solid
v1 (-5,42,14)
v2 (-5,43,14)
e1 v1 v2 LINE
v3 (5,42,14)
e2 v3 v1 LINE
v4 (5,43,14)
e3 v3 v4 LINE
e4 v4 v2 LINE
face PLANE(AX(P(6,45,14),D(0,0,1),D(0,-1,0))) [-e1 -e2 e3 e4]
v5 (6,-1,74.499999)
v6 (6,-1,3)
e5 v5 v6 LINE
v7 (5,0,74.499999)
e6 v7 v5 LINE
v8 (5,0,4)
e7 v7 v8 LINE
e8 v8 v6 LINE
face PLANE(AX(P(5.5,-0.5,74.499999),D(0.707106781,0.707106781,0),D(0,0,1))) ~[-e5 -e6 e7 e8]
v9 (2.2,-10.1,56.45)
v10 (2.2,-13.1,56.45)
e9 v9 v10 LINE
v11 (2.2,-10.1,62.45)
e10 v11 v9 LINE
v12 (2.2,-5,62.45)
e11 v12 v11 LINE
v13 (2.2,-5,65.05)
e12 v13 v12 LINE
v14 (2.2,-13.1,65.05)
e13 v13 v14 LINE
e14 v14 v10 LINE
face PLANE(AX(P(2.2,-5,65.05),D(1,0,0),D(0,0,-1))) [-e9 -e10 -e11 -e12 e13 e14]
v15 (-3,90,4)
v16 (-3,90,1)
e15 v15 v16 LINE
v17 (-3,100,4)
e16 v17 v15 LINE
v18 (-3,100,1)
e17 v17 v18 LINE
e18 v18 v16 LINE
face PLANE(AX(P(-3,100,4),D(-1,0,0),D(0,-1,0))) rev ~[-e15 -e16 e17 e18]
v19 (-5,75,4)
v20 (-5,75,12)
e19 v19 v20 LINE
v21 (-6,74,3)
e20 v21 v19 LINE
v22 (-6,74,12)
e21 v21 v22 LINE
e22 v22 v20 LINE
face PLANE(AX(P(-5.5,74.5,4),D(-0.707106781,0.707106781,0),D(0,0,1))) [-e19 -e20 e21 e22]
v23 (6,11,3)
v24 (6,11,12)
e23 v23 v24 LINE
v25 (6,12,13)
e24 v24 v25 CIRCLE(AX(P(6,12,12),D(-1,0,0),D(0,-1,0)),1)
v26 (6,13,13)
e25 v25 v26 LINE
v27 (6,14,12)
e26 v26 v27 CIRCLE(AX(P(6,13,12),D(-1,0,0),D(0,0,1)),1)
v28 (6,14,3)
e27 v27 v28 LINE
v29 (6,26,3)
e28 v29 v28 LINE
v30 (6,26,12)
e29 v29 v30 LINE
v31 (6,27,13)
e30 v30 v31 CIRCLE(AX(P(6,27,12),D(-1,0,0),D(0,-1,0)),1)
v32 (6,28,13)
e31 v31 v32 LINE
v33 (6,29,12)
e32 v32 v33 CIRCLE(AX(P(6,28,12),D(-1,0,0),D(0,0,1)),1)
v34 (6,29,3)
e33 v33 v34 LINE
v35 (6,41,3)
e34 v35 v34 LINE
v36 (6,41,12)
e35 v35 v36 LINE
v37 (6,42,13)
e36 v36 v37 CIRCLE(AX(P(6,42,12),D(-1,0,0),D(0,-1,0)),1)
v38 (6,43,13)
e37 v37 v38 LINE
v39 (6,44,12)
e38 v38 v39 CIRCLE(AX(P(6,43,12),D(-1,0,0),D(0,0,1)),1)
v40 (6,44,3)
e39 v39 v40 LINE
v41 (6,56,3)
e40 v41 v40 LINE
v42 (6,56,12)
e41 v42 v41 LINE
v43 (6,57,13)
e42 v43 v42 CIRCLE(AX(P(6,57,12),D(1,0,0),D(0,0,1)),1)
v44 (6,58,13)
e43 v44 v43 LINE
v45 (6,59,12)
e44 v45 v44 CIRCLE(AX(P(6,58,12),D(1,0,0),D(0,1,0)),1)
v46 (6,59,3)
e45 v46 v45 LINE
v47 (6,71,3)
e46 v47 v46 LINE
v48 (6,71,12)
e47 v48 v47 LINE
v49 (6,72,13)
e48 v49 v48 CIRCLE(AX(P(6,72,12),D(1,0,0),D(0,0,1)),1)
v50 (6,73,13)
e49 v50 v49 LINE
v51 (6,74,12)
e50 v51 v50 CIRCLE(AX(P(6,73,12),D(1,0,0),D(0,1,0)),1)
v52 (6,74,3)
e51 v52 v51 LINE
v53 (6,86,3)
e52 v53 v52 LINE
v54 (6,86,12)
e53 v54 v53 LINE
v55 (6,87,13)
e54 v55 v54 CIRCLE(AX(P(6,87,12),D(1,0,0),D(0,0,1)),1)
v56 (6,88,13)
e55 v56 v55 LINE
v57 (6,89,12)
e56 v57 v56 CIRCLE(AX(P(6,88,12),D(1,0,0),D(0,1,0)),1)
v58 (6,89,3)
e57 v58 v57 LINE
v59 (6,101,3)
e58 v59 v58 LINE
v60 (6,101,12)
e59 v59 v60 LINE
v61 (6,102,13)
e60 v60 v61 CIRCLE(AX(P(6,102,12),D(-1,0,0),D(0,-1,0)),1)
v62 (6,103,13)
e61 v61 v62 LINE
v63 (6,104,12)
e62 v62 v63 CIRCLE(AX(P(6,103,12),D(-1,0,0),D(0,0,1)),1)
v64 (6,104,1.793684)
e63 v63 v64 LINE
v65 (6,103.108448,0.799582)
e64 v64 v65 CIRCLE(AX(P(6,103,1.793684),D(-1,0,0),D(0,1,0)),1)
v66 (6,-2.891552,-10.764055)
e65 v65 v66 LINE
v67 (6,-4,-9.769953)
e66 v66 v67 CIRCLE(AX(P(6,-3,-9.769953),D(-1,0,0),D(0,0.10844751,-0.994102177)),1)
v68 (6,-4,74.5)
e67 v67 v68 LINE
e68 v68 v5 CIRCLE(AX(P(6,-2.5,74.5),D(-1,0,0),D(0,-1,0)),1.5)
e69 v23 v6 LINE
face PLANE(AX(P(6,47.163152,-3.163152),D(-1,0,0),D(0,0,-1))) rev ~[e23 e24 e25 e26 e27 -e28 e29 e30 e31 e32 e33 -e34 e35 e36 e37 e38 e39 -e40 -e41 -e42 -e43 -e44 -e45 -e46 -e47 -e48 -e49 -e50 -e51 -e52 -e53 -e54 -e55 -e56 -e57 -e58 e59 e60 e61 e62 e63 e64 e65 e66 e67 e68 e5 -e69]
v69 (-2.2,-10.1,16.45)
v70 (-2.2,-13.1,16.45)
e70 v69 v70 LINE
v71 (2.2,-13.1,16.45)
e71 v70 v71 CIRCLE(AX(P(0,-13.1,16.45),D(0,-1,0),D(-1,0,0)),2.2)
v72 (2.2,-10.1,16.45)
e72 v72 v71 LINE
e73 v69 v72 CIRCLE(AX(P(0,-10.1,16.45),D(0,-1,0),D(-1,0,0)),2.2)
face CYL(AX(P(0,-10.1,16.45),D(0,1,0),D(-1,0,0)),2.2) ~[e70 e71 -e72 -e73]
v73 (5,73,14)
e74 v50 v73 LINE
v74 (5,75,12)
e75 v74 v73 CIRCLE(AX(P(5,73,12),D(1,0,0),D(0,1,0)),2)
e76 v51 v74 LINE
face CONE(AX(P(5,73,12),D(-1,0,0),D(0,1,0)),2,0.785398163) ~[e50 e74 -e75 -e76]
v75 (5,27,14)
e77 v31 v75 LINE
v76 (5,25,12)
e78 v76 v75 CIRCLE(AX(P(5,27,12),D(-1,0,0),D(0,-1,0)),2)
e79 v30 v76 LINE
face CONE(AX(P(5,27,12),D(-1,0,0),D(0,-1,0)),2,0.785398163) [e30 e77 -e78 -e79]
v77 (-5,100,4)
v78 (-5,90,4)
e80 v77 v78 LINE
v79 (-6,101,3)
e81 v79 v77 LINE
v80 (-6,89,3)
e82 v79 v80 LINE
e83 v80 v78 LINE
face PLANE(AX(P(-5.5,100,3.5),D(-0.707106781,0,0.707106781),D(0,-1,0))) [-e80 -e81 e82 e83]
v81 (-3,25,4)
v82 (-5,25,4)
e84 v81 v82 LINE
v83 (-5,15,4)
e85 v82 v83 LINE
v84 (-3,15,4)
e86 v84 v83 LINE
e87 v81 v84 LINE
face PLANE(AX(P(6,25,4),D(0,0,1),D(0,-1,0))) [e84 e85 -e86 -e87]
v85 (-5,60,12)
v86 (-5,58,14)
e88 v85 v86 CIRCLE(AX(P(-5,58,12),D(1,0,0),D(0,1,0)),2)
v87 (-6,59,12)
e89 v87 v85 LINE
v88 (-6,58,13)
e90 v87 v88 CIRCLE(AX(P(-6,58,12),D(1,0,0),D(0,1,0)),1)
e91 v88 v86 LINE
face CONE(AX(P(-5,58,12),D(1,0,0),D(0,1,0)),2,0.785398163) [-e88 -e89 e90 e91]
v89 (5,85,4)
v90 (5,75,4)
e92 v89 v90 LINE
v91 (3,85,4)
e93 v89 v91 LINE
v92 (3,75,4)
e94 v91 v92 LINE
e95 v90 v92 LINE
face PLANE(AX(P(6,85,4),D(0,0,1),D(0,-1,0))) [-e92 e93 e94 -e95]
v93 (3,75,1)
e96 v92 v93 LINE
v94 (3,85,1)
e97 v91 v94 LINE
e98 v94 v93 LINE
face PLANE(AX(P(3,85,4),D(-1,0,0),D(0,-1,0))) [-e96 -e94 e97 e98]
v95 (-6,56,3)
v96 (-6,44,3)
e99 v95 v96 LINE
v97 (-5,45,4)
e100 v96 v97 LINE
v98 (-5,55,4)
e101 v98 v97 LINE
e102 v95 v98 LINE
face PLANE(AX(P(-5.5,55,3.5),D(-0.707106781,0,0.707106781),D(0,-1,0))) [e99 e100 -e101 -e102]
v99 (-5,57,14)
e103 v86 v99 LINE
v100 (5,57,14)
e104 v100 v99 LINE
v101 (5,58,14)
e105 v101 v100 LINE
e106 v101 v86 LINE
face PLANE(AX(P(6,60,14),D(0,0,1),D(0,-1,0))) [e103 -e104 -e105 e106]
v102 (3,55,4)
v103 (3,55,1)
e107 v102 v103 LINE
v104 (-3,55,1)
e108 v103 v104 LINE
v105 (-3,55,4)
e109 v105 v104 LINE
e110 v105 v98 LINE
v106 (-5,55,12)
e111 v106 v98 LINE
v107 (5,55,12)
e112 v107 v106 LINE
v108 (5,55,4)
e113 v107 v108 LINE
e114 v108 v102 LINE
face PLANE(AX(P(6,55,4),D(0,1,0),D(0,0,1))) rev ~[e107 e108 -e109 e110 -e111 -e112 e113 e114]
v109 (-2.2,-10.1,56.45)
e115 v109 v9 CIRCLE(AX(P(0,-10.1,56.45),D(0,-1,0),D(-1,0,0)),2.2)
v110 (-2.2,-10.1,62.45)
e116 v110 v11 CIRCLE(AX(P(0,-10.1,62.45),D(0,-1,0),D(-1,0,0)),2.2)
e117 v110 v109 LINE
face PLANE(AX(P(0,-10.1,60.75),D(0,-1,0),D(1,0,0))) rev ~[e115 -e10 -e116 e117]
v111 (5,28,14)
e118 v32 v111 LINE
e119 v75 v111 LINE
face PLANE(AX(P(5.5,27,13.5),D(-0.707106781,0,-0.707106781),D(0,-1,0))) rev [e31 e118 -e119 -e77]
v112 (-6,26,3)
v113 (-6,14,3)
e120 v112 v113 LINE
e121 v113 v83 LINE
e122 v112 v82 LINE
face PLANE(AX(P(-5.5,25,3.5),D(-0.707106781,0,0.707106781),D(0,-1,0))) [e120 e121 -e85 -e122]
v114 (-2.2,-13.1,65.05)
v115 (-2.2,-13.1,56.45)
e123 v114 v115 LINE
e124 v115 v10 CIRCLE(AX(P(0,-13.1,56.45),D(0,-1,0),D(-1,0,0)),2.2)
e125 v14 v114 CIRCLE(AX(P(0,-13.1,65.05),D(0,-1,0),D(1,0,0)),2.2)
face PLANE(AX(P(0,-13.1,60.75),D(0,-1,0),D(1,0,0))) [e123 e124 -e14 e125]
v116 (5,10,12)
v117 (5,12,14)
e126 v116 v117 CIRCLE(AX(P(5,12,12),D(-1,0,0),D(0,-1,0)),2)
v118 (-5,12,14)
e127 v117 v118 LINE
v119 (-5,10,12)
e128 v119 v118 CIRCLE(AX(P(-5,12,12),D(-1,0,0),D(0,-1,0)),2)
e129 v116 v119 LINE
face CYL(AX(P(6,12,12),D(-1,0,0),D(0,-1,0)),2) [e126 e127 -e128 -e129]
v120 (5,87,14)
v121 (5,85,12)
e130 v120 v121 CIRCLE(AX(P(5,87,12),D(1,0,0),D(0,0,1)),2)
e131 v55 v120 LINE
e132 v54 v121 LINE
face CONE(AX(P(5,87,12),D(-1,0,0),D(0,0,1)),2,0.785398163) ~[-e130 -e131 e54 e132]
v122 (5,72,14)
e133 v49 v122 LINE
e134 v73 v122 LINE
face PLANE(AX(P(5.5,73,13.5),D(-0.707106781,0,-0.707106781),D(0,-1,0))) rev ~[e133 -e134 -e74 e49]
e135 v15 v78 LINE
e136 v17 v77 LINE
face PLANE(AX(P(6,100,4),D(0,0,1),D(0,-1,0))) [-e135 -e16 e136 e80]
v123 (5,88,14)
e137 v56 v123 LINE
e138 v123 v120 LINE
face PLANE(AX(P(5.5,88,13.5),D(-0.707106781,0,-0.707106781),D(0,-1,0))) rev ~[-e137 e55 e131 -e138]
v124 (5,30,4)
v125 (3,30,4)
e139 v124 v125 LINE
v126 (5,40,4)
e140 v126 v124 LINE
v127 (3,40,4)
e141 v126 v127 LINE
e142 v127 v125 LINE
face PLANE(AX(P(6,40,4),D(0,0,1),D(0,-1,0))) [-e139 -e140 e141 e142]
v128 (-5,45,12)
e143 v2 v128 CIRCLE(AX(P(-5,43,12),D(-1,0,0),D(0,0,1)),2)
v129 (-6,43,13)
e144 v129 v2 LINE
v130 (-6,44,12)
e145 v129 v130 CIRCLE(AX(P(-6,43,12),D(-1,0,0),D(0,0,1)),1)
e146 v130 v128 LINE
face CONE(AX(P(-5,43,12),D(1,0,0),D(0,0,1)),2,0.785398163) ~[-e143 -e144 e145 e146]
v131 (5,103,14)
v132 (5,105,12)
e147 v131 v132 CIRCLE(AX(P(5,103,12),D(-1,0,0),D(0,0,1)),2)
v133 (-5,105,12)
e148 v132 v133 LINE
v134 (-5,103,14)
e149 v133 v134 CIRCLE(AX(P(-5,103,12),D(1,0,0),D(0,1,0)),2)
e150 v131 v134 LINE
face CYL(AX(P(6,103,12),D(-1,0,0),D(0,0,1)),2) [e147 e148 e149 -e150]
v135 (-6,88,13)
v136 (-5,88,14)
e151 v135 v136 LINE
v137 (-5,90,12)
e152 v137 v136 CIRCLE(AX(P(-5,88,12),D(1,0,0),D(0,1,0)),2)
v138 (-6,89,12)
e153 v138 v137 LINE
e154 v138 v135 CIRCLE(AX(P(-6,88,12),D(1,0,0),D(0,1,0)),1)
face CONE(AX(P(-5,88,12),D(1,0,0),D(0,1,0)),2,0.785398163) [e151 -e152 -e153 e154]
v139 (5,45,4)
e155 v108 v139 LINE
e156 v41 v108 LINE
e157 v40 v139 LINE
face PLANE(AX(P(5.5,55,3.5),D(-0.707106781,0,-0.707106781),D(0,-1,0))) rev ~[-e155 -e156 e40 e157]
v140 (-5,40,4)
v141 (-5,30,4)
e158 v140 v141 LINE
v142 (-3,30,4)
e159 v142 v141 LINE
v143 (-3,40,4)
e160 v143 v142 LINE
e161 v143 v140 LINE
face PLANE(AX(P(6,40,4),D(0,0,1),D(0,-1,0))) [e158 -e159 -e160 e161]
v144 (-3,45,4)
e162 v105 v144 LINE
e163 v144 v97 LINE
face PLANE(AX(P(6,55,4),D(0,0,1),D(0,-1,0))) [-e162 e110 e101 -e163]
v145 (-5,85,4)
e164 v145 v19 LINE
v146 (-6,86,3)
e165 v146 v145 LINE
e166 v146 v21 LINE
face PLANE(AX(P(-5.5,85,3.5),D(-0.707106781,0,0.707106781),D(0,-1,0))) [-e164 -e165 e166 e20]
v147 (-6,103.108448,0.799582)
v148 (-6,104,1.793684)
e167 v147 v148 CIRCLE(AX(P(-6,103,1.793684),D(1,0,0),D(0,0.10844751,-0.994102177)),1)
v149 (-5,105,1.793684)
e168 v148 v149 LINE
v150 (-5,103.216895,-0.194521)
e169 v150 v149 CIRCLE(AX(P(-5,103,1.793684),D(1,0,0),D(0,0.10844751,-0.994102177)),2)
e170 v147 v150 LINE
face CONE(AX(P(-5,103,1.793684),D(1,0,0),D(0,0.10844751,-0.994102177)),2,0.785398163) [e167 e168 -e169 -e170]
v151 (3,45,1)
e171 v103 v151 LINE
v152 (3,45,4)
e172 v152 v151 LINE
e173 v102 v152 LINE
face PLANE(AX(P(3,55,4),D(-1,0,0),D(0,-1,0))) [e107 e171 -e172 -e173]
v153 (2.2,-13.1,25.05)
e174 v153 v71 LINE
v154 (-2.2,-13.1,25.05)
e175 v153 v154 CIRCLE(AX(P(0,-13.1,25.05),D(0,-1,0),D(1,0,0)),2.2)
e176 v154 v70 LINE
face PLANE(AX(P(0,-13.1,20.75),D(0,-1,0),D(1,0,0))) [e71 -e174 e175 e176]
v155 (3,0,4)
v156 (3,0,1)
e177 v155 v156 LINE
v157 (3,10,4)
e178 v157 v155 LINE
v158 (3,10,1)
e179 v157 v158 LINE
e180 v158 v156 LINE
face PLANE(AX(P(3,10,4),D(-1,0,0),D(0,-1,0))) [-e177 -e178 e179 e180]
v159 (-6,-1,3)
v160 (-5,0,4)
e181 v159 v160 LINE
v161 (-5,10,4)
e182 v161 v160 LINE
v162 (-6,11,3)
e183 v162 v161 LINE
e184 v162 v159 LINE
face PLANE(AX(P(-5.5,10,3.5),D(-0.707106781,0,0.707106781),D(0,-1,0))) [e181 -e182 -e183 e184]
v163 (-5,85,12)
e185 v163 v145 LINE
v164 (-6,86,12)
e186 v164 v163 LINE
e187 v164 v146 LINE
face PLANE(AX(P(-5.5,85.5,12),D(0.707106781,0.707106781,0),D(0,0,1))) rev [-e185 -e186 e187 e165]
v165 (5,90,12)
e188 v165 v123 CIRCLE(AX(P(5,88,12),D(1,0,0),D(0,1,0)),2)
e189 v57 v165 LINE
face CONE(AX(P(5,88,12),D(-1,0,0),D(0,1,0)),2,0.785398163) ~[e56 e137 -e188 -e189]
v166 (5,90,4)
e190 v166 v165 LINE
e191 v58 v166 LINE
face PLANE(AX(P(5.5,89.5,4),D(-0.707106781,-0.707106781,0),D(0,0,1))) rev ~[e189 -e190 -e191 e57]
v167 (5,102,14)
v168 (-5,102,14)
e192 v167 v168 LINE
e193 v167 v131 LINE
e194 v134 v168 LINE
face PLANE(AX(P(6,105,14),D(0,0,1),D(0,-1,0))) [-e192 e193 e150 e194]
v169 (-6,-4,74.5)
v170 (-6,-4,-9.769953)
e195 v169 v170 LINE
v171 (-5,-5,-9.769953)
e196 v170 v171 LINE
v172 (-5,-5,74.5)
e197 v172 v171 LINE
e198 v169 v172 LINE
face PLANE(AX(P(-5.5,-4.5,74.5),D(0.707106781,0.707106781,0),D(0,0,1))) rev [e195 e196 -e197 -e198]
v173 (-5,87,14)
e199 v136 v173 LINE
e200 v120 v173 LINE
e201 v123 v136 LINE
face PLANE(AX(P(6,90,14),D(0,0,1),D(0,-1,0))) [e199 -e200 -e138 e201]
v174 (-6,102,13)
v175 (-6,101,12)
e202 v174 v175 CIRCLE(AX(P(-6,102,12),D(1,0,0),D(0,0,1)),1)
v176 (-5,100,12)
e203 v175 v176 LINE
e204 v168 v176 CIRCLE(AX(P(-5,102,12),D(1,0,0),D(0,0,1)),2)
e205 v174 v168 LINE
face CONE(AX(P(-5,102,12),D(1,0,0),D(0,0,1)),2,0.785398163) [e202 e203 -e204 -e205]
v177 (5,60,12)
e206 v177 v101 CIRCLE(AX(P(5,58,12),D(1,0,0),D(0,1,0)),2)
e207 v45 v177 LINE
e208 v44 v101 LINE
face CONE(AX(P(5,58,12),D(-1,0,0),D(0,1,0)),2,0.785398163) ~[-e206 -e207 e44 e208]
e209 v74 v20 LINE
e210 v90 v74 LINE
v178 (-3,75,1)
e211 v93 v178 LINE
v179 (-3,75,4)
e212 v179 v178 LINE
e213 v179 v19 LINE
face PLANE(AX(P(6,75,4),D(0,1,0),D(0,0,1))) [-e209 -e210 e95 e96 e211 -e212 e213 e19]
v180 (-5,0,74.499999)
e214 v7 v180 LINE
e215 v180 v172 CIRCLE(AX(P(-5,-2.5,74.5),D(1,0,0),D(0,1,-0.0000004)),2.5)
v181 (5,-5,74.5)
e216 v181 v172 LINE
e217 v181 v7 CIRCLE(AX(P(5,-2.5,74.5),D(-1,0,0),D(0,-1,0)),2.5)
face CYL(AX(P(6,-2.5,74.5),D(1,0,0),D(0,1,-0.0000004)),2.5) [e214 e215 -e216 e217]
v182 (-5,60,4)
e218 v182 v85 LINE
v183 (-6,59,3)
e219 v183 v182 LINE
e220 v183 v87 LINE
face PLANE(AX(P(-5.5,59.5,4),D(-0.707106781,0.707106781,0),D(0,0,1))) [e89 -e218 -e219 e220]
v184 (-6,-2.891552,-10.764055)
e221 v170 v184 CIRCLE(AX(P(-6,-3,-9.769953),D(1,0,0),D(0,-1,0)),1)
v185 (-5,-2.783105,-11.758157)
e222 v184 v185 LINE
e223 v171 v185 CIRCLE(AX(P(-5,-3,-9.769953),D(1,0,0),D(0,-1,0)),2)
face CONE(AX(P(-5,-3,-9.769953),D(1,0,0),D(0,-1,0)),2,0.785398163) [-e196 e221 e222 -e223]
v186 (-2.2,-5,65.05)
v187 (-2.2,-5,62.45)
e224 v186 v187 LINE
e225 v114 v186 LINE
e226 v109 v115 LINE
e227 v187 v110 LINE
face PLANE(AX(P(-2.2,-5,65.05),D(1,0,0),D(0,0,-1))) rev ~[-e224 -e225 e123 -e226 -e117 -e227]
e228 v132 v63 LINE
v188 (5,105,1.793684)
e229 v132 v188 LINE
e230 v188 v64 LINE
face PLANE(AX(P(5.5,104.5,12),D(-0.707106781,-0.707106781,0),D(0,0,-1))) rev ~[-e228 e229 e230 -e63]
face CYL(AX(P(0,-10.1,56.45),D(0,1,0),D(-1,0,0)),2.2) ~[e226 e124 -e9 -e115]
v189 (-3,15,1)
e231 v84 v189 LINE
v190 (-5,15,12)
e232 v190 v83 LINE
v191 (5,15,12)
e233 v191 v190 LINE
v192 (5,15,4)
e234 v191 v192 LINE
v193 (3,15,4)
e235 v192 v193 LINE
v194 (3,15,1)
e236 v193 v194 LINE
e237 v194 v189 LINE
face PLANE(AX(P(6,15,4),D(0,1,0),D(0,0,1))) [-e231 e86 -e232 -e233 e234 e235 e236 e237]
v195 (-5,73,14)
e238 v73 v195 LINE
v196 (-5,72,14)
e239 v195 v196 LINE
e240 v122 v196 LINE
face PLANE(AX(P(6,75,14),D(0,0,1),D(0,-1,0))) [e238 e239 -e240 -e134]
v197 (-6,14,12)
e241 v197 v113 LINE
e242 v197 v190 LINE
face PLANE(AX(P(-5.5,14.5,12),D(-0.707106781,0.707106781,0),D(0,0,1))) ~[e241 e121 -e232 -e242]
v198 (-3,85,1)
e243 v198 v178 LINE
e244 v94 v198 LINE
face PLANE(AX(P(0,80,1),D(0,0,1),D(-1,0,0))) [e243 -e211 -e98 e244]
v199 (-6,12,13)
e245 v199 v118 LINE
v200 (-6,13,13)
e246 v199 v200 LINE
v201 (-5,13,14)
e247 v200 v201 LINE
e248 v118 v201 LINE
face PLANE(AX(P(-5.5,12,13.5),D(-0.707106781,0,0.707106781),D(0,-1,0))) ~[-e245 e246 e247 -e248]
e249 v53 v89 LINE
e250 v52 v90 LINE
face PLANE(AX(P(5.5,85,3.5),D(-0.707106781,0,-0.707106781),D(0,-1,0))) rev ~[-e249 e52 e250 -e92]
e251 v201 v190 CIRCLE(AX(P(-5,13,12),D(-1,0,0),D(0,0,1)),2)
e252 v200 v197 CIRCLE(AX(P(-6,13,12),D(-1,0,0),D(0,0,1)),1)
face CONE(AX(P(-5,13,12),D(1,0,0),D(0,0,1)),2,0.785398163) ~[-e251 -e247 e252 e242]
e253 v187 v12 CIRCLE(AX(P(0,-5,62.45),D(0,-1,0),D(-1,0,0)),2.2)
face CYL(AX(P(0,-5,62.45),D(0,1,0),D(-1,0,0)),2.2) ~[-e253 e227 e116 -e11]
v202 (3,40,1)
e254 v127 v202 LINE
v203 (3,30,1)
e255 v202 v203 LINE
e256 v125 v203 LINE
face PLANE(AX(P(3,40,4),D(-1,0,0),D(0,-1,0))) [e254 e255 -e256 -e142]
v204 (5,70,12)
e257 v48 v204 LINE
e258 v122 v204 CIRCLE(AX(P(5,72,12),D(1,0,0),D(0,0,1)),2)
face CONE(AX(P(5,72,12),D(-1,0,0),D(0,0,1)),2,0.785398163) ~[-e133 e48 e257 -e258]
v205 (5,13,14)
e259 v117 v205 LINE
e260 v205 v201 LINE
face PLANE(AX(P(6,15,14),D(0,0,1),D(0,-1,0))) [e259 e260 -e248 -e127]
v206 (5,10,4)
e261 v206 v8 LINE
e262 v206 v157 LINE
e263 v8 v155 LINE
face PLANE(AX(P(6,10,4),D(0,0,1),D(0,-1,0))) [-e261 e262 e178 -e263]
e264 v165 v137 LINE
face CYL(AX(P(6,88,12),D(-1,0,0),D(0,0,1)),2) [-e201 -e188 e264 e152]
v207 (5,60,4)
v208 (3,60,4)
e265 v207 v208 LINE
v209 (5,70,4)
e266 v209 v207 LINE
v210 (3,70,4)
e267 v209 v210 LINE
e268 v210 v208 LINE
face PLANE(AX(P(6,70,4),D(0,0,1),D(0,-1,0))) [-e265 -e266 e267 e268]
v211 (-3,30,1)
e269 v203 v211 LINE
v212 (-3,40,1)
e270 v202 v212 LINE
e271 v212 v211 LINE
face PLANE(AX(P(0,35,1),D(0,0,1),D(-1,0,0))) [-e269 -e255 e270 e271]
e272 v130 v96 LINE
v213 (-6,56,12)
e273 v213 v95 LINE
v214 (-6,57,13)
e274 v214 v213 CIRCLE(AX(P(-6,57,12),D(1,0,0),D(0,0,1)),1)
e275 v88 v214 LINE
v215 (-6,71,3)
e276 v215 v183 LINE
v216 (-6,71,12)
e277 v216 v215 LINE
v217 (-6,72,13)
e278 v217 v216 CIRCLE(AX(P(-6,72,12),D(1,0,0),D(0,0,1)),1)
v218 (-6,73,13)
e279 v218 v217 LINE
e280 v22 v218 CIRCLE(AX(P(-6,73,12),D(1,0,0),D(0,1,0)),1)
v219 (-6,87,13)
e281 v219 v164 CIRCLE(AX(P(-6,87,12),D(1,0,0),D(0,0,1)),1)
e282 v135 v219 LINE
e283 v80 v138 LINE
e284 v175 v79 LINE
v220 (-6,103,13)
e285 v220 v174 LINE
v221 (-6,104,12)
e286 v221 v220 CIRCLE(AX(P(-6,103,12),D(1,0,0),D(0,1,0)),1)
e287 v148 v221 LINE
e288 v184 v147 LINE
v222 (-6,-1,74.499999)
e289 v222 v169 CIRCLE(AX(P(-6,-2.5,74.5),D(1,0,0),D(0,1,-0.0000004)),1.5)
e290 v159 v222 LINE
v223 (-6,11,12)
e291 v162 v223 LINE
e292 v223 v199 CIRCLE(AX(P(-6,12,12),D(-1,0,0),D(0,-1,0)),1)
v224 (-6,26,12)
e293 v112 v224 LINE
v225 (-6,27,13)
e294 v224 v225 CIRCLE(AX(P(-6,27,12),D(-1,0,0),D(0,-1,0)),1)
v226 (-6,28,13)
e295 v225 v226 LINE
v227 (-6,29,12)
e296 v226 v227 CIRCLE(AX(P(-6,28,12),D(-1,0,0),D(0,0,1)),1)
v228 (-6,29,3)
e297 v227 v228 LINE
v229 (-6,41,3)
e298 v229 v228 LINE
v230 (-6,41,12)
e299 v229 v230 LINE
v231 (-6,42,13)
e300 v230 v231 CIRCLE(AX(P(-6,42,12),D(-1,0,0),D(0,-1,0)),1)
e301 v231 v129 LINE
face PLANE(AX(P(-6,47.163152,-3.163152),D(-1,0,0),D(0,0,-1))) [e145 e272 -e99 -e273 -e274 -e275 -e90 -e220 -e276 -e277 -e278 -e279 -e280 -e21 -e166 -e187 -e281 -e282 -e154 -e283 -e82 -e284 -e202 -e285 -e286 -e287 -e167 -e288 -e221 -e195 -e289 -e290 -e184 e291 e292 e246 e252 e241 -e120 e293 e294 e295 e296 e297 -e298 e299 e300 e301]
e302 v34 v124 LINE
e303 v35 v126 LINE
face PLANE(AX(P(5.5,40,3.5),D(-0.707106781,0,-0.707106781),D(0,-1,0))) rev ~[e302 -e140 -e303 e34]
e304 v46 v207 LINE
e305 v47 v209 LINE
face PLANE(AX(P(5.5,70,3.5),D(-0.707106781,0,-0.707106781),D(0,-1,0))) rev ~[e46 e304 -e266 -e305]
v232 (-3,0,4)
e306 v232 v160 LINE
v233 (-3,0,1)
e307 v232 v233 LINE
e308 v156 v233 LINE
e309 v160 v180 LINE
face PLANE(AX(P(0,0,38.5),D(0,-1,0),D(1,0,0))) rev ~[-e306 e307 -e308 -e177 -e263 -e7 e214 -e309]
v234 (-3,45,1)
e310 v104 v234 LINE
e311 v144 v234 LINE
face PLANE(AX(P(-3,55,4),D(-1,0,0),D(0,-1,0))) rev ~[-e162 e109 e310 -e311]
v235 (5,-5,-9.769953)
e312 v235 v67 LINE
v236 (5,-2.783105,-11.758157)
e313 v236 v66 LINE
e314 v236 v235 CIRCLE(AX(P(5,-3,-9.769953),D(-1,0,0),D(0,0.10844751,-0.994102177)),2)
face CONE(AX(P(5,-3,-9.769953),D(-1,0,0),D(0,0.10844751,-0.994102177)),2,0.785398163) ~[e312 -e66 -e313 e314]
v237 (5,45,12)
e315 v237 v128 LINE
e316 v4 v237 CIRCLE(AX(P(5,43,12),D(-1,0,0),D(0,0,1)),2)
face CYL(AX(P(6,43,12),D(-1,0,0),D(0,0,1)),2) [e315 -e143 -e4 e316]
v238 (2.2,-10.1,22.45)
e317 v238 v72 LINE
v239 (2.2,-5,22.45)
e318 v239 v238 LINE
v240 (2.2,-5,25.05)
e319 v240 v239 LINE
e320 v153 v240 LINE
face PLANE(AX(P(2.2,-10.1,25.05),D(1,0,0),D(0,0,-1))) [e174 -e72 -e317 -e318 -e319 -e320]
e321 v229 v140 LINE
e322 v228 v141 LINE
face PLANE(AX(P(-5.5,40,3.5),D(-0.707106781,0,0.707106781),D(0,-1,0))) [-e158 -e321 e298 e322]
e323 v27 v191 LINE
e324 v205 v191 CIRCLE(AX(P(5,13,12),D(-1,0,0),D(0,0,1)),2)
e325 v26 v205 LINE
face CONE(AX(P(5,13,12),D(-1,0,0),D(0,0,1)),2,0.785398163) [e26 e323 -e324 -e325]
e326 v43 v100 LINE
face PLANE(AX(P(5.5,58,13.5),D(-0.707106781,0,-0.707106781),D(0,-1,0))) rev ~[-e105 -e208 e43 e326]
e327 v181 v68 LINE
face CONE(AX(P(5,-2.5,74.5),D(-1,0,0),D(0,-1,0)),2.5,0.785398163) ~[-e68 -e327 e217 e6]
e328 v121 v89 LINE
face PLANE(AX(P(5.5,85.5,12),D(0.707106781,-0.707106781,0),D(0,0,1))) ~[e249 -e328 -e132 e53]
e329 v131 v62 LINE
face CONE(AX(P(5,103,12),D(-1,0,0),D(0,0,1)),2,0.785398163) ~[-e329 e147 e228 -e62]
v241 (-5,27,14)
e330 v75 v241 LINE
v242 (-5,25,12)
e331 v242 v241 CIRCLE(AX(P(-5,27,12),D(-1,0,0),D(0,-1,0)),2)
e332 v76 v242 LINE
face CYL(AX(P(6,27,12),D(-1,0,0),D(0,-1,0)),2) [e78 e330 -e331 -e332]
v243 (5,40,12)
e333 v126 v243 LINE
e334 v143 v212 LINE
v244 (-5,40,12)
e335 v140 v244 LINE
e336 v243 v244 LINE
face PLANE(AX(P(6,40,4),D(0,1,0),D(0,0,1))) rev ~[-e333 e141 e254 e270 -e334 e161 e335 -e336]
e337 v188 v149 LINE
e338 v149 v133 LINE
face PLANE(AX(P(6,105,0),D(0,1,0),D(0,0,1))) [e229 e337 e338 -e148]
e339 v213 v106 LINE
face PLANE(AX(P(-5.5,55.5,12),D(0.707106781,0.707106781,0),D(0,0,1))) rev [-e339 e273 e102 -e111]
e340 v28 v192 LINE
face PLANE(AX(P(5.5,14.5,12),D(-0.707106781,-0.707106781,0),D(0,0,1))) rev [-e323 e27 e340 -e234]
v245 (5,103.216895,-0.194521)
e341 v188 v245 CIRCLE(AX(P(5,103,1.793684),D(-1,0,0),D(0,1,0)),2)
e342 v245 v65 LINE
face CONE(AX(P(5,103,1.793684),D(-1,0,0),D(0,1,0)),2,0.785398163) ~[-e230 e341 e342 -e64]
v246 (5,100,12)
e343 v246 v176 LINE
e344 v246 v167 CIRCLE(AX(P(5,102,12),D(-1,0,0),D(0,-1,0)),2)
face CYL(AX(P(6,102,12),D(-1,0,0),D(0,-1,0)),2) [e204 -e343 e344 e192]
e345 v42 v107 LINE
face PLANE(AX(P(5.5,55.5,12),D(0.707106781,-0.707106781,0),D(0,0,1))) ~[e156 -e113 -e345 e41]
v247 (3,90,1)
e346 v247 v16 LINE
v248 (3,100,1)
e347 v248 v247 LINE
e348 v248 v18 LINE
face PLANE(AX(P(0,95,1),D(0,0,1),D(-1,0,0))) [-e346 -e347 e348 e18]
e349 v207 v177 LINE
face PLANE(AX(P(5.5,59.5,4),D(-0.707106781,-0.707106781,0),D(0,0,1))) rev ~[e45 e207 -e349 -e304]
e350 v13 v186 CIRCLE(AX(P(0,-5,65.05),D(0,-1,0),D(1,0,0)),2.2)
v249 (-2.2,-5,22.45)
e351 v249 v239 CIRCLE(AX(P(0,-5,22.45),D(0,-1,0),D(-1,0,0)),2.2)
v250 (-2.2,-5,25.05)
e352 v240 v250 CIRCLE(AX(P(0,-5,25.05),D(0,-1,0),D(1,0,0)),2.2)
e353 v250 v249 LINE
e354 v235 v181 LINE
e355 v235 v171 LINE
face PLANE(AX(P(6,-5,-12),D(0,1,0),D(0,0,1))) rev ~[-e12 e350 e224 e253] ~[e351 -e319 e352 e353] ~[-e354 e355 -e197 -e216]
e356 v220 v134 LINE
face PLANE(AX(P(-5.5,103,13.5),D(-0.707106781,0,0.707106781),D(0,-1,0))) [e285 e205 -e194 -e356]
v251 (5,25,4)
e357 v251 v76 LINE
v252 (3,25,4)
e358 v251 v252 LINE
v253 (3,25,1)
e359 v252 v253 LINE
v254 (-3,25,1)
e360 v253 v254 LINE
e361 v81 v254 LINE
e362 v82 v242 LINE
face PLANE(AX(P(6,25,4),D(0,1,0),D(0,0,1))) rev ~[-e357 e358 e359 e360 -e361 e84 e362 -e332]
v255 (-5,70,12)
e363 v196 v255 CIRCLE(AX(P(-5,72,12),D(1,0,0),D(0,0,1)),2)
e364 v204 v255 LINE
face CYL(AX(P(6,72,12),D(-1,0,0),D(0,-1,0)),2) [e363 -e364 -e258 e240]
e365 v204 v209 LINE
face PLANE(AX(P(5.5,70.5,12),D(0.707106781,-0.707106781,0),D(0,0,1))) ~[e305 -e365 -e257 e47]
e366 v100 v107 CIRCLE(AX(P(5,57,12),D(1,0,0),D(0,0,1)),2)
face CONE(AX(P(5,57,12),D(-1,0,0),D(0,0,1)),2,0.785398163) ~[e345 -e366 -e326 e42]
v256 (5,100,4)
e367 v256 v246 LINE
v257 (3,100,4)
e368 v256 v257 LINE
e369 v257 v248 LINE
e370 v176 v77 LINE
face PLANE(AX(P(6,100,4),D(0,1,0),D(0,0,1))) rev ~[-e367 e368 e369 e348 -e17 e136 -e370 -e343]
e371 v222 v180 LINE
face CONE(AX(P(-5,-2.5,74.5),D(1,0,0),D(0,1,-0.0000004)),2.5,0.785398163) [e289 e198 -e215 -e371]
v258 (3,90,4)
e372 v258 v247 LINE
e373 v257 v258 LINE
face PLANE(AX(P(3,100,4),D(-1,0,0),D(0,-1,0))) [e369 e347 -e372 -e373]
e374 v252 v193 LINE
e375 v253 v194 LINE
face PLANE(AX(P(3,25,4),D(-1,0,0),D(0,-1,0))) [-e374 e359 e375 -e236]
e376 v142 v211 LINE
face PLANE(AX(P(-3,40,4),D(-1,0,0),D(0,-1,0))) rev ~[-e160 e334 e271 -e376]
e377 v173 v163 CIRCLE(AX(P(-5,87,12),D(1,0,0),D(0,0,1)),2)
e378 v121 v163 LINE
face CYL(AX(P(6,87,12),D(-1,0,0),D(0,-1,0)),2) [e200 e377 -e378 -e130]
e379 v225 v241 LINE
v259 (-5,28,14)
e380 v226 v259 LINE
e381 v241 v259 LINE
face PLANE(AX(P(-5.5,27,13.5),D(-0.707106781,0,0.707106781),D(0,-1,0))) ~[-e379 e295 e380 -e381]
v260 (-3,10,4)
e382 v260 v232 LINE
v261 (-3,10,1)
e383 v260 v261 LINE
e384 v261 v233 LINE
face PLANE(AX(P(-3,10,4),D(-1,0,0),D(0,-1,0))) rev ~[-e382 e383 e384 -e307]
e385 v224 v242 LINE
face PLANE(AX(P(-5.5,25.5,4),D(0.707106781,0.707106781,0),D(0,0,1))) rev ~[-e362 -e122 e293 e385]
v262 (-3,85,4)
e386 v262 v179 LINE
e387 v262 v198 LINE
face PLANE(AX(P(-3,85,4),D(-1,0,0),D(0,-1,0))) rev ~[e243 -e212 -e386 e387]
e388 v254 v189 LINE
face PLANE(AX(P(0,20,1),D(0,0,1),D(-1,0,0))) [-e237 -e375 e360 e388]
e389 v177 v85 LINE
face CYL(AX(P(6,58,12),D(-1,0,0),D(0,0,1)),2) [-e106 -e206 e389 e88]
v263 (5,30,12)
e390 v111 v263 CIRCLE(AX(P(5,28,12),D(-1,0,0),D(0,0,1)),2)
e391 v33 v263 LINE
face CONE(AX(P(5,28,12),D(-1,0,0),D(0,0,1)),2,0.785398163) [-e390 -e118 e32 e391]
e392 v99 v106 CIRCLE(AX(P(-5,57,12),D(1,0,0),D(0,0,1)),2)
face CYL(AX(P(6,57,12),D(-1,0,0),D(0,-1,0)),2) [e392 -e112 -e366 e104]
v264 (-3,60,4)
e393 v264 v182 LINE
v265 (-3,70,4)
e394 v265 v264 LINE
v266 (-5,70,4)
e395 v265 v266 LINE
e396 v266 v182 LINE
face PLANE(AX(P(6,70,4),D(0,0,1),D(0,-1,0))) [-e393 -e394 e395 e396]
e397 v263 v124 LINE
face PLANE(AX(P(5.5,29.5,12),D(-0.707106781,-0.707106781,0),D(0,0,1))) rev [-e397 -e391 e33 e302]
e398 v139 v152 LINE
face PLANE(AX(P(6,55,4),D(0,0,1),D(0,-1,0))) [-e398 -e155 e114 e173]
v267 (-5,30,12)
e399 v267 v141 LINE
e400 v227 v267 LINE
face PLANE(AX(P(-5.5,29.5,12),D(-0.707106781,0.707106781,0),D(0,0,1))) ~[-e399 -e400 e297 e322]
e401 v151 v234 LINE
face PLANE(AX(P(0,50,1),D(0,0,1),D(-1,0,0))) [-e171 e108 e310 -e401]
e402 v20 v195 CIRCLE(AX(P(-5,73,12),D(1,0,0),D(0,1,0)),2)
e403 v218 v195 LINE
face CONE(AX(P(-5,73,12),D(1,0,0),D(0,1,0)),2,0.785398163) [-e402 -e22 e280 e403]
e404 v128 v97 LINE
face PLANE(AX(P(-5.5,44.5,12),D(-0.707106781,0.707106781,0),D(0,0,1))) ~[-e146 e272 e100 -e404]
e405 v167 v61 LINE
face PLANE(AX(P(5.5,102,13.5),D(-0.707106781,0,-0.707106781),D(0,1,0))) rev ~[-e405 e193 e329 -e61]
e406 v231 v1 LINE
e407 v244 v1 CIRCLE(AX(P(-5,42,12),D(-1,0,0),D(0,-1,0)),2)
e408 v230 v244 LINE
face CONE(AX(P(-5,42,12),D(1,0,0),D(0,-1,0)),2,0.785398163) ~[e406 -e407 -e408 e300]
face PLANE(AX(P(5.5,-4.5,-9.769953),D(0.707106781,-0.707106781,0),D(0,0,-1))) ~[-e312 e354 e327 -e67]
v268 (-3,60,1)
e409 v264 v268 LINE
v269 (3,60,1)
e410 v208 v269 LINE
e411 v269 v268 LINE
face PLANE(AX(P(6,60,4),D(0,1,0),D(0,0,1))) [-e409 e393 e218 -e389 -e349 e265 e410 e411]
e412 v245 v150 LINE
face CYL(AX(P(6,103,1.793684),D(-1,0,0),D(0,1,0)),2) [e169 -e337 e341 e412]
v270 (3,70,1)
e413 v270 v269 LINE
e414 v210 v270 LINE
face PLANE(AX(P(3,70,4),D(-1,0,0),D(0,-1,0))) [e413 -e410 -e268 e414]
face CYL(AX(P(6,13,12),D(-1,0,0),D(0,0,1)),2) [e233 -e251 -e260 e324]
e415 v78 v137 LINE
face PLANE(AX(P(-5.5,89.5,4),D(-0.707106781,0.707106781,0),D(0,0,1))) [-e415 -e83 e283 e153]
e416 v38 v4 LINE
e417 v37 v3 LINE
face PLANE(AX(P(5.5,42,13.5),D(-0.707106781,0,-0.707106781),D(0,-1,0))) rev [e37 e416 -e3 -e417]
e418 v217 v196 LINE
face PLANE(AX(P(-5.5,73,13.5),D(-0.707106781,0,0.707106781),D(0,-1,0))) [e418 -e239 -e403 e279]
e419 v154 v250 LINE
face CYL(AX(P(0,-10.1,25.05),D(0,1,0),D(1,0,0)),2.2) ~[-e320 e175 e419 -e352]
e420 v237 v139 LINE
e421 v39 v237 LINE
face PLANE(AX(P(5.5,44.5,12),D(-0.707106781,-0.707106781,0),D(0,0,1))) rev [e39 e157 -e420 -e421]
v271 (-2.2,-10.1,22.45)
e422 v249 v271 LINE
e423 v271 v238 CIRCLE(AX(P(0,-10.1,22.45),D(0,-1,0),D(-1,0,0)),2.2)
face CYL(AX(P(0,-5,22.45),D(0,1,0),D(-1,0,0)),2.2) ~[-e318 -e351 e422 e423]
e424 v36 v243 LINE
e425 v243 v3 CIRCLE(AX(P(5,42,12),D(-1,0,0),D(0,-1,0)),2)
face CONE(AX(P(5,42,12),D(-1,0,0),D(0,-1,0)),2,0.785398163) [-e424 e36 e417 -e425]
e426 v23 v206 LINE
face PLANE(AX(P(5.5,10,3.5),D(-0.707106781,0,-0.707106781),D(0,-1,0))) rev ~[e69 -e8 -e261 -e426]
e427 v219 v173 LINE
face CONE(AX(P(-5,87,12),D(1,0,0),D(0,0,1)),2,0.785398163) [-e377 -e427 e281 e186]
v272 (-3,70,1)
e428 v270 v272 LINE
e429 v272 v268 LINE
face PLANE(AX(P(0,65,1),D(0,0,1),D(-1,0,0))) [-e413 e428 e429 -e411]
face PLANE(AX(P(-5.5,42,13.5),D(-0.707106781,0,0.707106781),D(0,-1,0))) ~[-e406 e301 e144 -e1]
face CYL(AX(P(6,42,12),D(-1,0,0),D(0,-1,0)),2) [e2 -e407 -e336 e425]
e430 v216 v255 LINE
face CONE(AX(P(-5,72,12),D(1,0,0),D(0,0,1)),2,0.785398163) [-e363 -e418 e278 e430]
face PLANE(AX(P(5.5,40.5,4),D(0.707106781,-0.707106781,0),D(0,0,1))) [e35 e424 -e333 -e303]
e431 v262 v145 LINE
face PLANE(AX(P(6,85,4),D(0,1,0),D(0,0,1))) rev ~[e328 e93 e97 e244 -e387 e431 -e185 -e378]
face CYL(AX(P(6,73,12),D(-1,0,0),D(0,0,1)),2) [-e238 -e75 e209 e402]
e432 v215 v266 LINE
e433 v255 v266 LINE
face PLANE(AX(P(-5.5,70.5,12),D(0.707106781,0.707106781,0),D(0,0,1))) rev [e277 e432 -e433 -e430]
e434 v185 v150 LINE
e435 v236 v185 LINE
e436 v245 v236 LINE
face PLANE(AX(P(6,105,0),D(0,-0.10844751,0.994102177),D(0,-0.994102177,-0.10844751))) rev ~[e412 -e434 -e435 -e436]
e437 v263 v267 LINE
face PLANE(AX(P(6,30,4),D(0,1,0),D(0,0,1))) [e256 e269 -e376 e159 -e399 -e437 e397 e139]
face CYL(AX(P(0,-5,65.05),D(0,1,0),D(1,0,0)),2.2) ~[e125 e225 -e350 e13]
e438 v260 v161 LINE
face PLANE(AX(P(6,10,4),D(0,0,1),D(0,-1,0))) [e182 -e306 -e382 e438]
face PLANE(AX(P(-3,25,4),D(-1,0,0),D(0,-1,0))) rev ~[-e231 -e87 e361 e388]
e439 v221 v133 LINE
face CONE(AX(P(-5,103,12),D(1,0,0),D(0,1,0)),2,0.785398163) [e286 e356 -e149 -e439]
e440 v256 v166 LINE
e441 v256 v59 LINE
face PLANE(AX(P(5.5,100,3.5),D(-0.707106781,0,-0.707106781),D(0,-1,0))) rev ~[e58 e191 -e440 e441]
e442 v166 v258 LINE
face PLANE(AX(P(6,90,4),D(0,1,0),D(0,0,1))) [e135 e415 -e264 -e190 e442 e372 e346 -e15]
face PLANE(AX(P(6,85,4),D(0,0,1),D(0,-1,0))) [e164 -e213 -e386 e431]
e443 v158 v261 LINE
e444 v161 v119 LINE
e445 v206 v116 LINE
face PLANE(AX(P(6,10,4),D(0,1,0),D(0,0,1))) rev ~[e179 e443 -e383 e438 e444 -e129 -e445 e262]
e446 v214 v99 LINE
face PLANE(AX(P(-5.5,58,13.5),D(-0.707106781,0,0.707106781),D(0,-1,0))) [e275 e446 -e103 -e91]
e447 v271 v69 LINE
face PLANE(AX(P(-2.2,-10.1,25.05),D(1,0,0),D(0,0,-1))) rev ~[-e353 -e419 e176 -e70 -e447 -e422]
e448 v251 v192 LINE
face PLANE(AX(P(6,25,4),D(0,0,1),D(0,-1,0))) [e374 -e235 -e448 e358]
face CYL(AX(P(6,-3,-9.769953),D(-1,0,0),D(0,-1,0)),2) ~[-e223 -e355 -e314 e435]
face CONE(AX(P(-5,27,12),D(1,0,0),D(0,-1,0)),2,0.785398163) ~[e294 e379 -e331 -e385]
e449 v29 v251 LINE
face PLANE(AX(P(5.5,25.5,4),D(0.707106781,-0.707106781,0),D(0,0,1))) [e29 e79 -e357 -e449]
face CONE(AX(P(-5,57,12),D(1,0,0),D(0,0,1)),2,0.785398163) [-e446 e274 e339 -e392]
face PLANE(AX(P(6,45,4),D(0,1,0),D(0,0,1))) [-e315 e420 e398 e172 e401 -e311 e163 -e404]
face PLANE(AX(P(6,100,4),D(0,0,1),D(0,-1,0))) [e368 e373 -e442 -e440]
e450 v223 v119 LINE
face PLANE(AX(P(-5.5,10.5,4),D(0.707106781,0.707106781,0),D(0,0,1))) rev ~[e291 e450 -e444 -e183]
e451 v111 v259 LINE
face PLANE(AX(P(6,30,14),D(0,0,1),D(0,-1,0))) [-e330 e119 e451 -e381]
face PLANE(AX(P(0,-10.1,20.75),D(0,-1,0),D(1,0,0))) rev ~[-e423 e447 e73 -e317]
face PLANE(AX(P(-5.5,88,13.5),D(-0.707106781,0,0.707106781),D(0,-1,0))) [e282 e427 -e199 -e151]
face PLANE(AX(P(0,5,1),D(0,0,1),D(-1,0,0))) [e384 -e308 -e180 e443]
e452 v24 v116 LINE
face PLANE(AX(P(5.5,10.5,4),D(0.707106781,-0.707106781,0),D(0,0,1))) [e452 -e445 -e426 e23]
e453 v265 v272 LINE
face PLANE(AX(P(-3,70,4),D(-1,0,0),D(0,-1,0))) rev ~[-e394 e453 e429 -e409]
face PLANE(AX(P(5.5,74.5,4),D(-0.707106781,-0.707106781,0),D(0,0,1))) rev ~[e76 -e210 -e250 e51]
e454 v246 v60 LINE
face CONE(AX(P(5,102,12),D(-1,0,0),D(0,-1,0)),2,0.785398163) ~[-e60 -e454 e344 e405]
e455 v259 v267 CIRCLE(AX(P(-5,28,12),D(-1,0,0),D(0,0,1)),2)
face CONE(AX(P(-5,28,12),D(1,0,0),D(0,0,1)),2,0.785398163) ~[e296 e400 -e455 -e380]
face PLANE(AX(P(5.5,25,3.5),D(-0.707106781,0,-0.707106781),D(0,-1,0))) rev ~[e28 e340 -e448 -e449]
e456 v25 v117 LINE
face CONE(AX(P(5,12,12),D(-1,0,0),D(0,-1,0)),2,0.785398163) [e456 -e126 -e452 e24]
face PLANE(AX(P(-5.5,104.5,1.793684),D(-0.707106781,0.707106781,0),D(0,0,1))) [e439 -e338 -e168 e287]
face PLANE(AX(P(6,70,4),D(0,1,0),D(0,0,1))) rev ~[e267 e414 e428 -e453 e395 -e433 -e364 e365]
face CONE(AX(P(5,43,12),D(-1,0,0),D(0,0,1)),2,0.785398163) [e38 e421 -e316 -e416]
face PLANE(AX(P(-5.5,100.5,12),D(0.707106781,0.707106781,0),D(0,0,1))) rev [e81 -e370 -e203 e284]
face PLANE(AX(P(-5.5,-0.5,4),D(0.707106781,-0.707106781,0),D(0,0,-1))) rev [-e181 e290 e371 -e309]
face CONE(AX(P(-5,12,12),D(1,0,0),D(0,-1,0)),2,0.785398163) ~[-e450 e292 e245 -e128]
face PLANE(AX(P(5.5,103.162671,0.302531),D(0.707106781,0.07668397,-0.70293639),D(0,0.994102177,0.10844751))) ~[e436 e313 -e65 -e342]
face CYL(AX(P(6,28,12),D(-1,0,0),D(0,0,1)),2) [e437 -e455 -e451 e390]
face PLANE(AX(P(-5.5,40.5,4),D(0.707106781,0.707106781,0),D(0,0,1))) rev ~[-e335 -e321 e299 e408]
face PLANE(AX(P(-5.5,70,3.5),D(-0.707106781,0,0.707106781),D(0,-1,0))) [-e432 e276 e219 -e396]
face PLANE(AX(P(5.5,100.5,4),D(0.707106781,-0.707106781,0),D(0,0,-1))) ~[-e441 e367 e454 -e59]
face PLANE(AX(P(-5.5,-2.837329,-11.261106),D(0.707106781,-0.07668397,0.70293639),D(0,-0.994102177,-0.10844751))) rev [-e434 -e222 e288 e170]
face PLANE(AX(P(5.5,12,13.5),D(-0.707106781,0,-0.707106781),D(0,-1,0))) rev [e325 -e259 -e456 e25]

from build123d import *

# Parameters (mm, degrees)
SKETCH_W        = 12
SKETCH_H        = 77
PAD_DEPTH       = 5
PAD001_DEPTH    = 5.1
PAD002_DEPTH    = 3
SKETCH003_W     = 4
SKETCH003_H     = 105
SKETCH003_W_2   = 10
SKETCH003_H_2   = 5
PAD003_DEPTH    = 12
SKETCH004_W     = 6
SKETCH004_H     = 10
POCKET_DEPTH    = 3
POCKET001_DEPTH = 12.001
FILLET_R        = 2
PAD004_DEPTH    = 12
FILLET001_R     = 2
CHAMFER_SIZE    = 1


with BuildPart() as part:
    # Sketch → Pad (new body)
    with BuildSketch(Plane.XZ):
        with Locations((0, 38.5)):
            Rectangle(SKETCH_W, SKETCH_H)
    extrude(amount=PAD_DEPTH)

    # Sketch001 (on Face6 of Pad) → Pad001 (join)
    with BuildSketch(Plane.XZ.offset(5)):
        with BuildLine():
            Line((-2.2, 25.05), (-2.2, 22.45))
            ThreePointArc((-2.2, 22.45), (0, 20.25), (2.2, 22.45))
            Line((2.2, 25.05), (2.2, 22.45))
            ThreePointArc((2.2, 25.05), (0, 27.25), (-2.2, 25.05))
        make_face()
        with BuildLine():
            Line((-2.2, 65.05), (-2.2, 62.45))
            ThreePointArc((-2.2, 62.45), (0, 60.25), (2.2, 62.45))
            Line((2.2, 65.05), (2.2, 62.45))
            ThreePointArc((2.2, 65.05), (0, 67.25), (-2.2, 65.05))
        make_face()
    extrude(amount=PAD001_DEPTH)

    # Sketch002 (on Face16 of Pad001) → Pad002 (join)
    with BuildSketch(Plane.XZ.offset(10.1)):
        with BuildLine():
            Line((-2.2, 25.05), (-2.2, 16.45))
            ThreePointArc((-2.2, 16.45), (0, 14.25), (2.2, 16.45))
            Line((2.2, 25.05), (2.2, 16.45))
            ThreePointArc((2.2, 25.05), (0, 27.25), (-2.2, 25.05))
        make_face()
        with BuildLine():
            Line((-2.2, 65.05), (-2.2, 56.45))
            ThreePointArc((-2.2, 56.45), (0, 54.25), (2.2, 56.45))
            Line((2.2, 65.05), (2.2, 56.45))
            ThreePointArc((2.2, 65.05), (0, 67.25), (-2.2, 65.05))
        make_face()
    extrude(amount=PAD002_DEPTH)

    # Sketch003 (on Face6 of Pad002) → Pad003 (join)
    with BuildSketch(Plane(origin=(6, 0, 0), x_dir=(0, 0, 1), z_dir=(1, 0, 0))):
        with Locations((2, -52.5)):
            Rectangle(SKETCH003_W, SKETCH003_H)
        with Locations((9, -12.5)):
            Rectangle(SKETCH003_W_2, SKETCH003_H_2)
        with Locations((9, -27.5)):
            Rectangle(SKETCH003_W_2, SKETCH003_H_2)
        with Locations((9, -42.5)):
            Rectangle(SKETCH003_W_2, SKETCH003_H_2)
        with Locations((9, -57.5)):
            Rectangle(SKETCH003_W_2, SKETCH003_H_2)
        with Locations((9, -72.5)):
            Rectangle(SKETCH003_W_2, SKETCH003_H_2)
        with Locations((9, -87.5)):
            Rectangle(SKETCH003_W_2, SKETCH003_H_2)
        with Locations((9, -102.5)):
            Rectangle(SKETCH003_W_2, SKETCH003_H_2)
    extrude(amount=-PAD003_DEPTH)

    # Sketch004 (on Face30 of Pad003) → Pocket (cut)
    with BuildSketch(Plane(origin=(0, 0, 4), x_dir=(-1, 0, 0), z_dir=(0, 0, 1))):
        with Locations((0, -5)):
            Rectangle(SKETCH004_W, SKETCH004_H)
        with Locations((0, -20)):
            Rectangle(SKETCH004_W, SKETCH004_H)
        with Locations((0, -35)):
            Rectangle(SKETCH004_W, SKETCH004_H)
        with Locations((0, -50)):
            Rectangle(SKETCH004_W, SKETCH004_H)
        with Locations((0, -65)):
            Rectangle(SKETCH004_W, SKETCH004_H)
        with Locations((0, -80)):
            Rectangle(SKETCH004_W, SKETCH004_H)
        with Locations((0, -95)):
            Rectangle(SKETCH004_W, SKETCH004_H)
    extrude(amount=-POCKET_DEPTH, mode=Mode.SUBTRACT)

    # Sketch005 (on Face5 of Pocket) → Pocket001 (cut, through all)
    with BuildSketch(Plane(origin=(6, 0, 0), x_dir=(0, 0, 1), z_dir=(1, 0, 0))):
        with BuildLine():
            ThreePointArc((74.499999, 0), (77, 2.5), (74.5, 5))
            Line((74.5, 5), (77.1, 5))
            Line((77.1, 5), (77.099999, 0))
            Line((74.499999, 0), (77.099999, 0))
        make_face()
    extrude(amount=-POCKET001_DEPTH, mode=Mode.SUBTRACT)

    # Fillet
    fillet_edges = [part.edges().sort_by_distance(p)[0] for p in [
        (0, 105, 14),
        (0, 100, 14),
        (0, 90, 14),
        (0, 85, 14),
        (0, 75, 14),
        (0, 70, 14),
        (0, 60, 14),
        (0, 55, 14),
        (0, 45, 14),
        (0, 40, 14),
        (0, 30, 14),
        (0, 25, 14),
        (0, 15, 14),
        (0, 10, 14),
    ]]
    fillet(fillet_edges, radius=FILLET_R)

    # Sketch006 (on Face5 of Fillet) → Pad004 (join)
    with BuildSketch(Plane(origin=(6, 0, 0), x_dir=(0, 0, 1), z_dir=(1, 0, 0))):
        Polygon((-12, 5), (0, 5), (0, -105), align=None)
    extrude(amount=-PAD004_DEPTH)

    # Fillet001
    fillet001_edges = [part.edges().sort_by_distance(p)[0] for p in [
        (0, 105, 0),
        (0, -5, -12),
    ]]
    fillet(fillet001_edges, radius=FILLET001_R)

    # Chamfer
    chamfer_edges = [part.edges().sort_by_distance(p)[0] for p in [
        (6, -5, 32.365024),
        (6, -4.33533, -11.258877),
        (6, -4.267767, 76.267767),
        (6, 50.216895, -5.976339),
        (6, -0.732233, 76.267767),
        (6, 104.488924, 0.458354),
        (6, 0, 39.25),
        (6, 105, 6.896842),
        (6, 5, 4),
        (6, 104.414214, 13.414214),
        (6, 10, 8),
        (6, 102.5, 14),
        (6, 10.585786, 13.414214),
        (6, 100.585786, 13.414214),
        (6, 12.5, 14),
        (6, 100, 8),
        (6, 14.414214, 13.414214),
        (6, 95, 4),
        (6, 15, 8),
        (6, 90, 8),
        (6, 20, 4),
        (6, 89.414214, 13.414214),
        (6, 25, 8),
        (6, 87.5, 14),
        (6, 25.585786, 13.414214),
        (6, 85.585786, 13.414214),
        (6, 27.5, 14),
        (6, 85, 8),
        (6, 29.414214, 13.414214),
        (6, 80, 4),
        (6, 30, 8),
        (6, 75, 8),
        (6, 35, 4),
        (6, 74.414214, 13.414214),
        (6, 40, 8),
        (6, 72.5, 14),
        (6, 40.585786, 13.414214),
        (6, 70.585786, 13.414214),
        (6, 42.5, 14),
        (6, 70, 8),
        (6, 44.414214, 13.414214),
        (6, 65, 4),
        (6, 45, 8),
        (6, 60, 8),
        (6, 50, 4),
        (6, 59.414214, 13.414214),
        (6, 55, 8),
        (6, 57.5, 14),
        (6, 55.585786, 13.414214),
        (-6, 105, 6.896842),
        (-6, 104.488924, 0.458354),
        (-6, 104.414214, 13.414214),
        (-6, 50.216895, -5.976339),
        (-6, 102.5, 14),
        (-6, -4.33533, -11.258877),
        (-6, 100.585786, 13.414214),
        (-6, -5, 32.365024),
        (-6, 100, 8),
        (-6, -4.267767, 76.267767),
        (-6, 95, 4),
        (-6, -0.732233, 76.267767),
        (-6, 90, 8),
        (-6, 0, 39.25),
        (-6, 89.414214, 13.414214),
        (-6, 5, 4),
        (-6, 87.5, 14),
        (-6, 10, 8),
        (-6, 85.585786, 13.414214),
        (-6, 10.585786, 13.414214),
        (-6, 85, 8),
        (-6, 12.5, 14),
        (-6, 80, 4),
        (-6, 14.414214, 13.414214),
        (-6, 75, 8),
        (-6, 15, 8),
        (-6, 74.414214, 13.414214),
        (-6, 20, 4),
        (-6, 72.5, 14),
        (-6, 25, 8),
        (-6, 70.585786, 13.414214),
        (-6, 25.585786, 13.414214),
        (-6, 70, 8),
        (-6, 27.5, 14),
        (-6, 65, 4),
        (-6, 29.414214, 13.414214),
        (-6, 60, 8),
        (-6, 30, 8),
        (-6, 59.414214, 13.414214),
        (-6, 35, 4),
        (-6, 57.5, 14),
        (-6, 40, 8),
        (-6, 55.585786, 13.414214),
        (-6, 40.585786, 13.414214),
        (-6, 55, 8),
        (-6, 42.5, 14),
        (-6, 50, 4),
        (-6, 44.414214, 13.414214),
        (-6, 45, 8),
    ]]
    chamfer(chamfer_edges, length=CHAMFER_SIZE)


solid = part.part
